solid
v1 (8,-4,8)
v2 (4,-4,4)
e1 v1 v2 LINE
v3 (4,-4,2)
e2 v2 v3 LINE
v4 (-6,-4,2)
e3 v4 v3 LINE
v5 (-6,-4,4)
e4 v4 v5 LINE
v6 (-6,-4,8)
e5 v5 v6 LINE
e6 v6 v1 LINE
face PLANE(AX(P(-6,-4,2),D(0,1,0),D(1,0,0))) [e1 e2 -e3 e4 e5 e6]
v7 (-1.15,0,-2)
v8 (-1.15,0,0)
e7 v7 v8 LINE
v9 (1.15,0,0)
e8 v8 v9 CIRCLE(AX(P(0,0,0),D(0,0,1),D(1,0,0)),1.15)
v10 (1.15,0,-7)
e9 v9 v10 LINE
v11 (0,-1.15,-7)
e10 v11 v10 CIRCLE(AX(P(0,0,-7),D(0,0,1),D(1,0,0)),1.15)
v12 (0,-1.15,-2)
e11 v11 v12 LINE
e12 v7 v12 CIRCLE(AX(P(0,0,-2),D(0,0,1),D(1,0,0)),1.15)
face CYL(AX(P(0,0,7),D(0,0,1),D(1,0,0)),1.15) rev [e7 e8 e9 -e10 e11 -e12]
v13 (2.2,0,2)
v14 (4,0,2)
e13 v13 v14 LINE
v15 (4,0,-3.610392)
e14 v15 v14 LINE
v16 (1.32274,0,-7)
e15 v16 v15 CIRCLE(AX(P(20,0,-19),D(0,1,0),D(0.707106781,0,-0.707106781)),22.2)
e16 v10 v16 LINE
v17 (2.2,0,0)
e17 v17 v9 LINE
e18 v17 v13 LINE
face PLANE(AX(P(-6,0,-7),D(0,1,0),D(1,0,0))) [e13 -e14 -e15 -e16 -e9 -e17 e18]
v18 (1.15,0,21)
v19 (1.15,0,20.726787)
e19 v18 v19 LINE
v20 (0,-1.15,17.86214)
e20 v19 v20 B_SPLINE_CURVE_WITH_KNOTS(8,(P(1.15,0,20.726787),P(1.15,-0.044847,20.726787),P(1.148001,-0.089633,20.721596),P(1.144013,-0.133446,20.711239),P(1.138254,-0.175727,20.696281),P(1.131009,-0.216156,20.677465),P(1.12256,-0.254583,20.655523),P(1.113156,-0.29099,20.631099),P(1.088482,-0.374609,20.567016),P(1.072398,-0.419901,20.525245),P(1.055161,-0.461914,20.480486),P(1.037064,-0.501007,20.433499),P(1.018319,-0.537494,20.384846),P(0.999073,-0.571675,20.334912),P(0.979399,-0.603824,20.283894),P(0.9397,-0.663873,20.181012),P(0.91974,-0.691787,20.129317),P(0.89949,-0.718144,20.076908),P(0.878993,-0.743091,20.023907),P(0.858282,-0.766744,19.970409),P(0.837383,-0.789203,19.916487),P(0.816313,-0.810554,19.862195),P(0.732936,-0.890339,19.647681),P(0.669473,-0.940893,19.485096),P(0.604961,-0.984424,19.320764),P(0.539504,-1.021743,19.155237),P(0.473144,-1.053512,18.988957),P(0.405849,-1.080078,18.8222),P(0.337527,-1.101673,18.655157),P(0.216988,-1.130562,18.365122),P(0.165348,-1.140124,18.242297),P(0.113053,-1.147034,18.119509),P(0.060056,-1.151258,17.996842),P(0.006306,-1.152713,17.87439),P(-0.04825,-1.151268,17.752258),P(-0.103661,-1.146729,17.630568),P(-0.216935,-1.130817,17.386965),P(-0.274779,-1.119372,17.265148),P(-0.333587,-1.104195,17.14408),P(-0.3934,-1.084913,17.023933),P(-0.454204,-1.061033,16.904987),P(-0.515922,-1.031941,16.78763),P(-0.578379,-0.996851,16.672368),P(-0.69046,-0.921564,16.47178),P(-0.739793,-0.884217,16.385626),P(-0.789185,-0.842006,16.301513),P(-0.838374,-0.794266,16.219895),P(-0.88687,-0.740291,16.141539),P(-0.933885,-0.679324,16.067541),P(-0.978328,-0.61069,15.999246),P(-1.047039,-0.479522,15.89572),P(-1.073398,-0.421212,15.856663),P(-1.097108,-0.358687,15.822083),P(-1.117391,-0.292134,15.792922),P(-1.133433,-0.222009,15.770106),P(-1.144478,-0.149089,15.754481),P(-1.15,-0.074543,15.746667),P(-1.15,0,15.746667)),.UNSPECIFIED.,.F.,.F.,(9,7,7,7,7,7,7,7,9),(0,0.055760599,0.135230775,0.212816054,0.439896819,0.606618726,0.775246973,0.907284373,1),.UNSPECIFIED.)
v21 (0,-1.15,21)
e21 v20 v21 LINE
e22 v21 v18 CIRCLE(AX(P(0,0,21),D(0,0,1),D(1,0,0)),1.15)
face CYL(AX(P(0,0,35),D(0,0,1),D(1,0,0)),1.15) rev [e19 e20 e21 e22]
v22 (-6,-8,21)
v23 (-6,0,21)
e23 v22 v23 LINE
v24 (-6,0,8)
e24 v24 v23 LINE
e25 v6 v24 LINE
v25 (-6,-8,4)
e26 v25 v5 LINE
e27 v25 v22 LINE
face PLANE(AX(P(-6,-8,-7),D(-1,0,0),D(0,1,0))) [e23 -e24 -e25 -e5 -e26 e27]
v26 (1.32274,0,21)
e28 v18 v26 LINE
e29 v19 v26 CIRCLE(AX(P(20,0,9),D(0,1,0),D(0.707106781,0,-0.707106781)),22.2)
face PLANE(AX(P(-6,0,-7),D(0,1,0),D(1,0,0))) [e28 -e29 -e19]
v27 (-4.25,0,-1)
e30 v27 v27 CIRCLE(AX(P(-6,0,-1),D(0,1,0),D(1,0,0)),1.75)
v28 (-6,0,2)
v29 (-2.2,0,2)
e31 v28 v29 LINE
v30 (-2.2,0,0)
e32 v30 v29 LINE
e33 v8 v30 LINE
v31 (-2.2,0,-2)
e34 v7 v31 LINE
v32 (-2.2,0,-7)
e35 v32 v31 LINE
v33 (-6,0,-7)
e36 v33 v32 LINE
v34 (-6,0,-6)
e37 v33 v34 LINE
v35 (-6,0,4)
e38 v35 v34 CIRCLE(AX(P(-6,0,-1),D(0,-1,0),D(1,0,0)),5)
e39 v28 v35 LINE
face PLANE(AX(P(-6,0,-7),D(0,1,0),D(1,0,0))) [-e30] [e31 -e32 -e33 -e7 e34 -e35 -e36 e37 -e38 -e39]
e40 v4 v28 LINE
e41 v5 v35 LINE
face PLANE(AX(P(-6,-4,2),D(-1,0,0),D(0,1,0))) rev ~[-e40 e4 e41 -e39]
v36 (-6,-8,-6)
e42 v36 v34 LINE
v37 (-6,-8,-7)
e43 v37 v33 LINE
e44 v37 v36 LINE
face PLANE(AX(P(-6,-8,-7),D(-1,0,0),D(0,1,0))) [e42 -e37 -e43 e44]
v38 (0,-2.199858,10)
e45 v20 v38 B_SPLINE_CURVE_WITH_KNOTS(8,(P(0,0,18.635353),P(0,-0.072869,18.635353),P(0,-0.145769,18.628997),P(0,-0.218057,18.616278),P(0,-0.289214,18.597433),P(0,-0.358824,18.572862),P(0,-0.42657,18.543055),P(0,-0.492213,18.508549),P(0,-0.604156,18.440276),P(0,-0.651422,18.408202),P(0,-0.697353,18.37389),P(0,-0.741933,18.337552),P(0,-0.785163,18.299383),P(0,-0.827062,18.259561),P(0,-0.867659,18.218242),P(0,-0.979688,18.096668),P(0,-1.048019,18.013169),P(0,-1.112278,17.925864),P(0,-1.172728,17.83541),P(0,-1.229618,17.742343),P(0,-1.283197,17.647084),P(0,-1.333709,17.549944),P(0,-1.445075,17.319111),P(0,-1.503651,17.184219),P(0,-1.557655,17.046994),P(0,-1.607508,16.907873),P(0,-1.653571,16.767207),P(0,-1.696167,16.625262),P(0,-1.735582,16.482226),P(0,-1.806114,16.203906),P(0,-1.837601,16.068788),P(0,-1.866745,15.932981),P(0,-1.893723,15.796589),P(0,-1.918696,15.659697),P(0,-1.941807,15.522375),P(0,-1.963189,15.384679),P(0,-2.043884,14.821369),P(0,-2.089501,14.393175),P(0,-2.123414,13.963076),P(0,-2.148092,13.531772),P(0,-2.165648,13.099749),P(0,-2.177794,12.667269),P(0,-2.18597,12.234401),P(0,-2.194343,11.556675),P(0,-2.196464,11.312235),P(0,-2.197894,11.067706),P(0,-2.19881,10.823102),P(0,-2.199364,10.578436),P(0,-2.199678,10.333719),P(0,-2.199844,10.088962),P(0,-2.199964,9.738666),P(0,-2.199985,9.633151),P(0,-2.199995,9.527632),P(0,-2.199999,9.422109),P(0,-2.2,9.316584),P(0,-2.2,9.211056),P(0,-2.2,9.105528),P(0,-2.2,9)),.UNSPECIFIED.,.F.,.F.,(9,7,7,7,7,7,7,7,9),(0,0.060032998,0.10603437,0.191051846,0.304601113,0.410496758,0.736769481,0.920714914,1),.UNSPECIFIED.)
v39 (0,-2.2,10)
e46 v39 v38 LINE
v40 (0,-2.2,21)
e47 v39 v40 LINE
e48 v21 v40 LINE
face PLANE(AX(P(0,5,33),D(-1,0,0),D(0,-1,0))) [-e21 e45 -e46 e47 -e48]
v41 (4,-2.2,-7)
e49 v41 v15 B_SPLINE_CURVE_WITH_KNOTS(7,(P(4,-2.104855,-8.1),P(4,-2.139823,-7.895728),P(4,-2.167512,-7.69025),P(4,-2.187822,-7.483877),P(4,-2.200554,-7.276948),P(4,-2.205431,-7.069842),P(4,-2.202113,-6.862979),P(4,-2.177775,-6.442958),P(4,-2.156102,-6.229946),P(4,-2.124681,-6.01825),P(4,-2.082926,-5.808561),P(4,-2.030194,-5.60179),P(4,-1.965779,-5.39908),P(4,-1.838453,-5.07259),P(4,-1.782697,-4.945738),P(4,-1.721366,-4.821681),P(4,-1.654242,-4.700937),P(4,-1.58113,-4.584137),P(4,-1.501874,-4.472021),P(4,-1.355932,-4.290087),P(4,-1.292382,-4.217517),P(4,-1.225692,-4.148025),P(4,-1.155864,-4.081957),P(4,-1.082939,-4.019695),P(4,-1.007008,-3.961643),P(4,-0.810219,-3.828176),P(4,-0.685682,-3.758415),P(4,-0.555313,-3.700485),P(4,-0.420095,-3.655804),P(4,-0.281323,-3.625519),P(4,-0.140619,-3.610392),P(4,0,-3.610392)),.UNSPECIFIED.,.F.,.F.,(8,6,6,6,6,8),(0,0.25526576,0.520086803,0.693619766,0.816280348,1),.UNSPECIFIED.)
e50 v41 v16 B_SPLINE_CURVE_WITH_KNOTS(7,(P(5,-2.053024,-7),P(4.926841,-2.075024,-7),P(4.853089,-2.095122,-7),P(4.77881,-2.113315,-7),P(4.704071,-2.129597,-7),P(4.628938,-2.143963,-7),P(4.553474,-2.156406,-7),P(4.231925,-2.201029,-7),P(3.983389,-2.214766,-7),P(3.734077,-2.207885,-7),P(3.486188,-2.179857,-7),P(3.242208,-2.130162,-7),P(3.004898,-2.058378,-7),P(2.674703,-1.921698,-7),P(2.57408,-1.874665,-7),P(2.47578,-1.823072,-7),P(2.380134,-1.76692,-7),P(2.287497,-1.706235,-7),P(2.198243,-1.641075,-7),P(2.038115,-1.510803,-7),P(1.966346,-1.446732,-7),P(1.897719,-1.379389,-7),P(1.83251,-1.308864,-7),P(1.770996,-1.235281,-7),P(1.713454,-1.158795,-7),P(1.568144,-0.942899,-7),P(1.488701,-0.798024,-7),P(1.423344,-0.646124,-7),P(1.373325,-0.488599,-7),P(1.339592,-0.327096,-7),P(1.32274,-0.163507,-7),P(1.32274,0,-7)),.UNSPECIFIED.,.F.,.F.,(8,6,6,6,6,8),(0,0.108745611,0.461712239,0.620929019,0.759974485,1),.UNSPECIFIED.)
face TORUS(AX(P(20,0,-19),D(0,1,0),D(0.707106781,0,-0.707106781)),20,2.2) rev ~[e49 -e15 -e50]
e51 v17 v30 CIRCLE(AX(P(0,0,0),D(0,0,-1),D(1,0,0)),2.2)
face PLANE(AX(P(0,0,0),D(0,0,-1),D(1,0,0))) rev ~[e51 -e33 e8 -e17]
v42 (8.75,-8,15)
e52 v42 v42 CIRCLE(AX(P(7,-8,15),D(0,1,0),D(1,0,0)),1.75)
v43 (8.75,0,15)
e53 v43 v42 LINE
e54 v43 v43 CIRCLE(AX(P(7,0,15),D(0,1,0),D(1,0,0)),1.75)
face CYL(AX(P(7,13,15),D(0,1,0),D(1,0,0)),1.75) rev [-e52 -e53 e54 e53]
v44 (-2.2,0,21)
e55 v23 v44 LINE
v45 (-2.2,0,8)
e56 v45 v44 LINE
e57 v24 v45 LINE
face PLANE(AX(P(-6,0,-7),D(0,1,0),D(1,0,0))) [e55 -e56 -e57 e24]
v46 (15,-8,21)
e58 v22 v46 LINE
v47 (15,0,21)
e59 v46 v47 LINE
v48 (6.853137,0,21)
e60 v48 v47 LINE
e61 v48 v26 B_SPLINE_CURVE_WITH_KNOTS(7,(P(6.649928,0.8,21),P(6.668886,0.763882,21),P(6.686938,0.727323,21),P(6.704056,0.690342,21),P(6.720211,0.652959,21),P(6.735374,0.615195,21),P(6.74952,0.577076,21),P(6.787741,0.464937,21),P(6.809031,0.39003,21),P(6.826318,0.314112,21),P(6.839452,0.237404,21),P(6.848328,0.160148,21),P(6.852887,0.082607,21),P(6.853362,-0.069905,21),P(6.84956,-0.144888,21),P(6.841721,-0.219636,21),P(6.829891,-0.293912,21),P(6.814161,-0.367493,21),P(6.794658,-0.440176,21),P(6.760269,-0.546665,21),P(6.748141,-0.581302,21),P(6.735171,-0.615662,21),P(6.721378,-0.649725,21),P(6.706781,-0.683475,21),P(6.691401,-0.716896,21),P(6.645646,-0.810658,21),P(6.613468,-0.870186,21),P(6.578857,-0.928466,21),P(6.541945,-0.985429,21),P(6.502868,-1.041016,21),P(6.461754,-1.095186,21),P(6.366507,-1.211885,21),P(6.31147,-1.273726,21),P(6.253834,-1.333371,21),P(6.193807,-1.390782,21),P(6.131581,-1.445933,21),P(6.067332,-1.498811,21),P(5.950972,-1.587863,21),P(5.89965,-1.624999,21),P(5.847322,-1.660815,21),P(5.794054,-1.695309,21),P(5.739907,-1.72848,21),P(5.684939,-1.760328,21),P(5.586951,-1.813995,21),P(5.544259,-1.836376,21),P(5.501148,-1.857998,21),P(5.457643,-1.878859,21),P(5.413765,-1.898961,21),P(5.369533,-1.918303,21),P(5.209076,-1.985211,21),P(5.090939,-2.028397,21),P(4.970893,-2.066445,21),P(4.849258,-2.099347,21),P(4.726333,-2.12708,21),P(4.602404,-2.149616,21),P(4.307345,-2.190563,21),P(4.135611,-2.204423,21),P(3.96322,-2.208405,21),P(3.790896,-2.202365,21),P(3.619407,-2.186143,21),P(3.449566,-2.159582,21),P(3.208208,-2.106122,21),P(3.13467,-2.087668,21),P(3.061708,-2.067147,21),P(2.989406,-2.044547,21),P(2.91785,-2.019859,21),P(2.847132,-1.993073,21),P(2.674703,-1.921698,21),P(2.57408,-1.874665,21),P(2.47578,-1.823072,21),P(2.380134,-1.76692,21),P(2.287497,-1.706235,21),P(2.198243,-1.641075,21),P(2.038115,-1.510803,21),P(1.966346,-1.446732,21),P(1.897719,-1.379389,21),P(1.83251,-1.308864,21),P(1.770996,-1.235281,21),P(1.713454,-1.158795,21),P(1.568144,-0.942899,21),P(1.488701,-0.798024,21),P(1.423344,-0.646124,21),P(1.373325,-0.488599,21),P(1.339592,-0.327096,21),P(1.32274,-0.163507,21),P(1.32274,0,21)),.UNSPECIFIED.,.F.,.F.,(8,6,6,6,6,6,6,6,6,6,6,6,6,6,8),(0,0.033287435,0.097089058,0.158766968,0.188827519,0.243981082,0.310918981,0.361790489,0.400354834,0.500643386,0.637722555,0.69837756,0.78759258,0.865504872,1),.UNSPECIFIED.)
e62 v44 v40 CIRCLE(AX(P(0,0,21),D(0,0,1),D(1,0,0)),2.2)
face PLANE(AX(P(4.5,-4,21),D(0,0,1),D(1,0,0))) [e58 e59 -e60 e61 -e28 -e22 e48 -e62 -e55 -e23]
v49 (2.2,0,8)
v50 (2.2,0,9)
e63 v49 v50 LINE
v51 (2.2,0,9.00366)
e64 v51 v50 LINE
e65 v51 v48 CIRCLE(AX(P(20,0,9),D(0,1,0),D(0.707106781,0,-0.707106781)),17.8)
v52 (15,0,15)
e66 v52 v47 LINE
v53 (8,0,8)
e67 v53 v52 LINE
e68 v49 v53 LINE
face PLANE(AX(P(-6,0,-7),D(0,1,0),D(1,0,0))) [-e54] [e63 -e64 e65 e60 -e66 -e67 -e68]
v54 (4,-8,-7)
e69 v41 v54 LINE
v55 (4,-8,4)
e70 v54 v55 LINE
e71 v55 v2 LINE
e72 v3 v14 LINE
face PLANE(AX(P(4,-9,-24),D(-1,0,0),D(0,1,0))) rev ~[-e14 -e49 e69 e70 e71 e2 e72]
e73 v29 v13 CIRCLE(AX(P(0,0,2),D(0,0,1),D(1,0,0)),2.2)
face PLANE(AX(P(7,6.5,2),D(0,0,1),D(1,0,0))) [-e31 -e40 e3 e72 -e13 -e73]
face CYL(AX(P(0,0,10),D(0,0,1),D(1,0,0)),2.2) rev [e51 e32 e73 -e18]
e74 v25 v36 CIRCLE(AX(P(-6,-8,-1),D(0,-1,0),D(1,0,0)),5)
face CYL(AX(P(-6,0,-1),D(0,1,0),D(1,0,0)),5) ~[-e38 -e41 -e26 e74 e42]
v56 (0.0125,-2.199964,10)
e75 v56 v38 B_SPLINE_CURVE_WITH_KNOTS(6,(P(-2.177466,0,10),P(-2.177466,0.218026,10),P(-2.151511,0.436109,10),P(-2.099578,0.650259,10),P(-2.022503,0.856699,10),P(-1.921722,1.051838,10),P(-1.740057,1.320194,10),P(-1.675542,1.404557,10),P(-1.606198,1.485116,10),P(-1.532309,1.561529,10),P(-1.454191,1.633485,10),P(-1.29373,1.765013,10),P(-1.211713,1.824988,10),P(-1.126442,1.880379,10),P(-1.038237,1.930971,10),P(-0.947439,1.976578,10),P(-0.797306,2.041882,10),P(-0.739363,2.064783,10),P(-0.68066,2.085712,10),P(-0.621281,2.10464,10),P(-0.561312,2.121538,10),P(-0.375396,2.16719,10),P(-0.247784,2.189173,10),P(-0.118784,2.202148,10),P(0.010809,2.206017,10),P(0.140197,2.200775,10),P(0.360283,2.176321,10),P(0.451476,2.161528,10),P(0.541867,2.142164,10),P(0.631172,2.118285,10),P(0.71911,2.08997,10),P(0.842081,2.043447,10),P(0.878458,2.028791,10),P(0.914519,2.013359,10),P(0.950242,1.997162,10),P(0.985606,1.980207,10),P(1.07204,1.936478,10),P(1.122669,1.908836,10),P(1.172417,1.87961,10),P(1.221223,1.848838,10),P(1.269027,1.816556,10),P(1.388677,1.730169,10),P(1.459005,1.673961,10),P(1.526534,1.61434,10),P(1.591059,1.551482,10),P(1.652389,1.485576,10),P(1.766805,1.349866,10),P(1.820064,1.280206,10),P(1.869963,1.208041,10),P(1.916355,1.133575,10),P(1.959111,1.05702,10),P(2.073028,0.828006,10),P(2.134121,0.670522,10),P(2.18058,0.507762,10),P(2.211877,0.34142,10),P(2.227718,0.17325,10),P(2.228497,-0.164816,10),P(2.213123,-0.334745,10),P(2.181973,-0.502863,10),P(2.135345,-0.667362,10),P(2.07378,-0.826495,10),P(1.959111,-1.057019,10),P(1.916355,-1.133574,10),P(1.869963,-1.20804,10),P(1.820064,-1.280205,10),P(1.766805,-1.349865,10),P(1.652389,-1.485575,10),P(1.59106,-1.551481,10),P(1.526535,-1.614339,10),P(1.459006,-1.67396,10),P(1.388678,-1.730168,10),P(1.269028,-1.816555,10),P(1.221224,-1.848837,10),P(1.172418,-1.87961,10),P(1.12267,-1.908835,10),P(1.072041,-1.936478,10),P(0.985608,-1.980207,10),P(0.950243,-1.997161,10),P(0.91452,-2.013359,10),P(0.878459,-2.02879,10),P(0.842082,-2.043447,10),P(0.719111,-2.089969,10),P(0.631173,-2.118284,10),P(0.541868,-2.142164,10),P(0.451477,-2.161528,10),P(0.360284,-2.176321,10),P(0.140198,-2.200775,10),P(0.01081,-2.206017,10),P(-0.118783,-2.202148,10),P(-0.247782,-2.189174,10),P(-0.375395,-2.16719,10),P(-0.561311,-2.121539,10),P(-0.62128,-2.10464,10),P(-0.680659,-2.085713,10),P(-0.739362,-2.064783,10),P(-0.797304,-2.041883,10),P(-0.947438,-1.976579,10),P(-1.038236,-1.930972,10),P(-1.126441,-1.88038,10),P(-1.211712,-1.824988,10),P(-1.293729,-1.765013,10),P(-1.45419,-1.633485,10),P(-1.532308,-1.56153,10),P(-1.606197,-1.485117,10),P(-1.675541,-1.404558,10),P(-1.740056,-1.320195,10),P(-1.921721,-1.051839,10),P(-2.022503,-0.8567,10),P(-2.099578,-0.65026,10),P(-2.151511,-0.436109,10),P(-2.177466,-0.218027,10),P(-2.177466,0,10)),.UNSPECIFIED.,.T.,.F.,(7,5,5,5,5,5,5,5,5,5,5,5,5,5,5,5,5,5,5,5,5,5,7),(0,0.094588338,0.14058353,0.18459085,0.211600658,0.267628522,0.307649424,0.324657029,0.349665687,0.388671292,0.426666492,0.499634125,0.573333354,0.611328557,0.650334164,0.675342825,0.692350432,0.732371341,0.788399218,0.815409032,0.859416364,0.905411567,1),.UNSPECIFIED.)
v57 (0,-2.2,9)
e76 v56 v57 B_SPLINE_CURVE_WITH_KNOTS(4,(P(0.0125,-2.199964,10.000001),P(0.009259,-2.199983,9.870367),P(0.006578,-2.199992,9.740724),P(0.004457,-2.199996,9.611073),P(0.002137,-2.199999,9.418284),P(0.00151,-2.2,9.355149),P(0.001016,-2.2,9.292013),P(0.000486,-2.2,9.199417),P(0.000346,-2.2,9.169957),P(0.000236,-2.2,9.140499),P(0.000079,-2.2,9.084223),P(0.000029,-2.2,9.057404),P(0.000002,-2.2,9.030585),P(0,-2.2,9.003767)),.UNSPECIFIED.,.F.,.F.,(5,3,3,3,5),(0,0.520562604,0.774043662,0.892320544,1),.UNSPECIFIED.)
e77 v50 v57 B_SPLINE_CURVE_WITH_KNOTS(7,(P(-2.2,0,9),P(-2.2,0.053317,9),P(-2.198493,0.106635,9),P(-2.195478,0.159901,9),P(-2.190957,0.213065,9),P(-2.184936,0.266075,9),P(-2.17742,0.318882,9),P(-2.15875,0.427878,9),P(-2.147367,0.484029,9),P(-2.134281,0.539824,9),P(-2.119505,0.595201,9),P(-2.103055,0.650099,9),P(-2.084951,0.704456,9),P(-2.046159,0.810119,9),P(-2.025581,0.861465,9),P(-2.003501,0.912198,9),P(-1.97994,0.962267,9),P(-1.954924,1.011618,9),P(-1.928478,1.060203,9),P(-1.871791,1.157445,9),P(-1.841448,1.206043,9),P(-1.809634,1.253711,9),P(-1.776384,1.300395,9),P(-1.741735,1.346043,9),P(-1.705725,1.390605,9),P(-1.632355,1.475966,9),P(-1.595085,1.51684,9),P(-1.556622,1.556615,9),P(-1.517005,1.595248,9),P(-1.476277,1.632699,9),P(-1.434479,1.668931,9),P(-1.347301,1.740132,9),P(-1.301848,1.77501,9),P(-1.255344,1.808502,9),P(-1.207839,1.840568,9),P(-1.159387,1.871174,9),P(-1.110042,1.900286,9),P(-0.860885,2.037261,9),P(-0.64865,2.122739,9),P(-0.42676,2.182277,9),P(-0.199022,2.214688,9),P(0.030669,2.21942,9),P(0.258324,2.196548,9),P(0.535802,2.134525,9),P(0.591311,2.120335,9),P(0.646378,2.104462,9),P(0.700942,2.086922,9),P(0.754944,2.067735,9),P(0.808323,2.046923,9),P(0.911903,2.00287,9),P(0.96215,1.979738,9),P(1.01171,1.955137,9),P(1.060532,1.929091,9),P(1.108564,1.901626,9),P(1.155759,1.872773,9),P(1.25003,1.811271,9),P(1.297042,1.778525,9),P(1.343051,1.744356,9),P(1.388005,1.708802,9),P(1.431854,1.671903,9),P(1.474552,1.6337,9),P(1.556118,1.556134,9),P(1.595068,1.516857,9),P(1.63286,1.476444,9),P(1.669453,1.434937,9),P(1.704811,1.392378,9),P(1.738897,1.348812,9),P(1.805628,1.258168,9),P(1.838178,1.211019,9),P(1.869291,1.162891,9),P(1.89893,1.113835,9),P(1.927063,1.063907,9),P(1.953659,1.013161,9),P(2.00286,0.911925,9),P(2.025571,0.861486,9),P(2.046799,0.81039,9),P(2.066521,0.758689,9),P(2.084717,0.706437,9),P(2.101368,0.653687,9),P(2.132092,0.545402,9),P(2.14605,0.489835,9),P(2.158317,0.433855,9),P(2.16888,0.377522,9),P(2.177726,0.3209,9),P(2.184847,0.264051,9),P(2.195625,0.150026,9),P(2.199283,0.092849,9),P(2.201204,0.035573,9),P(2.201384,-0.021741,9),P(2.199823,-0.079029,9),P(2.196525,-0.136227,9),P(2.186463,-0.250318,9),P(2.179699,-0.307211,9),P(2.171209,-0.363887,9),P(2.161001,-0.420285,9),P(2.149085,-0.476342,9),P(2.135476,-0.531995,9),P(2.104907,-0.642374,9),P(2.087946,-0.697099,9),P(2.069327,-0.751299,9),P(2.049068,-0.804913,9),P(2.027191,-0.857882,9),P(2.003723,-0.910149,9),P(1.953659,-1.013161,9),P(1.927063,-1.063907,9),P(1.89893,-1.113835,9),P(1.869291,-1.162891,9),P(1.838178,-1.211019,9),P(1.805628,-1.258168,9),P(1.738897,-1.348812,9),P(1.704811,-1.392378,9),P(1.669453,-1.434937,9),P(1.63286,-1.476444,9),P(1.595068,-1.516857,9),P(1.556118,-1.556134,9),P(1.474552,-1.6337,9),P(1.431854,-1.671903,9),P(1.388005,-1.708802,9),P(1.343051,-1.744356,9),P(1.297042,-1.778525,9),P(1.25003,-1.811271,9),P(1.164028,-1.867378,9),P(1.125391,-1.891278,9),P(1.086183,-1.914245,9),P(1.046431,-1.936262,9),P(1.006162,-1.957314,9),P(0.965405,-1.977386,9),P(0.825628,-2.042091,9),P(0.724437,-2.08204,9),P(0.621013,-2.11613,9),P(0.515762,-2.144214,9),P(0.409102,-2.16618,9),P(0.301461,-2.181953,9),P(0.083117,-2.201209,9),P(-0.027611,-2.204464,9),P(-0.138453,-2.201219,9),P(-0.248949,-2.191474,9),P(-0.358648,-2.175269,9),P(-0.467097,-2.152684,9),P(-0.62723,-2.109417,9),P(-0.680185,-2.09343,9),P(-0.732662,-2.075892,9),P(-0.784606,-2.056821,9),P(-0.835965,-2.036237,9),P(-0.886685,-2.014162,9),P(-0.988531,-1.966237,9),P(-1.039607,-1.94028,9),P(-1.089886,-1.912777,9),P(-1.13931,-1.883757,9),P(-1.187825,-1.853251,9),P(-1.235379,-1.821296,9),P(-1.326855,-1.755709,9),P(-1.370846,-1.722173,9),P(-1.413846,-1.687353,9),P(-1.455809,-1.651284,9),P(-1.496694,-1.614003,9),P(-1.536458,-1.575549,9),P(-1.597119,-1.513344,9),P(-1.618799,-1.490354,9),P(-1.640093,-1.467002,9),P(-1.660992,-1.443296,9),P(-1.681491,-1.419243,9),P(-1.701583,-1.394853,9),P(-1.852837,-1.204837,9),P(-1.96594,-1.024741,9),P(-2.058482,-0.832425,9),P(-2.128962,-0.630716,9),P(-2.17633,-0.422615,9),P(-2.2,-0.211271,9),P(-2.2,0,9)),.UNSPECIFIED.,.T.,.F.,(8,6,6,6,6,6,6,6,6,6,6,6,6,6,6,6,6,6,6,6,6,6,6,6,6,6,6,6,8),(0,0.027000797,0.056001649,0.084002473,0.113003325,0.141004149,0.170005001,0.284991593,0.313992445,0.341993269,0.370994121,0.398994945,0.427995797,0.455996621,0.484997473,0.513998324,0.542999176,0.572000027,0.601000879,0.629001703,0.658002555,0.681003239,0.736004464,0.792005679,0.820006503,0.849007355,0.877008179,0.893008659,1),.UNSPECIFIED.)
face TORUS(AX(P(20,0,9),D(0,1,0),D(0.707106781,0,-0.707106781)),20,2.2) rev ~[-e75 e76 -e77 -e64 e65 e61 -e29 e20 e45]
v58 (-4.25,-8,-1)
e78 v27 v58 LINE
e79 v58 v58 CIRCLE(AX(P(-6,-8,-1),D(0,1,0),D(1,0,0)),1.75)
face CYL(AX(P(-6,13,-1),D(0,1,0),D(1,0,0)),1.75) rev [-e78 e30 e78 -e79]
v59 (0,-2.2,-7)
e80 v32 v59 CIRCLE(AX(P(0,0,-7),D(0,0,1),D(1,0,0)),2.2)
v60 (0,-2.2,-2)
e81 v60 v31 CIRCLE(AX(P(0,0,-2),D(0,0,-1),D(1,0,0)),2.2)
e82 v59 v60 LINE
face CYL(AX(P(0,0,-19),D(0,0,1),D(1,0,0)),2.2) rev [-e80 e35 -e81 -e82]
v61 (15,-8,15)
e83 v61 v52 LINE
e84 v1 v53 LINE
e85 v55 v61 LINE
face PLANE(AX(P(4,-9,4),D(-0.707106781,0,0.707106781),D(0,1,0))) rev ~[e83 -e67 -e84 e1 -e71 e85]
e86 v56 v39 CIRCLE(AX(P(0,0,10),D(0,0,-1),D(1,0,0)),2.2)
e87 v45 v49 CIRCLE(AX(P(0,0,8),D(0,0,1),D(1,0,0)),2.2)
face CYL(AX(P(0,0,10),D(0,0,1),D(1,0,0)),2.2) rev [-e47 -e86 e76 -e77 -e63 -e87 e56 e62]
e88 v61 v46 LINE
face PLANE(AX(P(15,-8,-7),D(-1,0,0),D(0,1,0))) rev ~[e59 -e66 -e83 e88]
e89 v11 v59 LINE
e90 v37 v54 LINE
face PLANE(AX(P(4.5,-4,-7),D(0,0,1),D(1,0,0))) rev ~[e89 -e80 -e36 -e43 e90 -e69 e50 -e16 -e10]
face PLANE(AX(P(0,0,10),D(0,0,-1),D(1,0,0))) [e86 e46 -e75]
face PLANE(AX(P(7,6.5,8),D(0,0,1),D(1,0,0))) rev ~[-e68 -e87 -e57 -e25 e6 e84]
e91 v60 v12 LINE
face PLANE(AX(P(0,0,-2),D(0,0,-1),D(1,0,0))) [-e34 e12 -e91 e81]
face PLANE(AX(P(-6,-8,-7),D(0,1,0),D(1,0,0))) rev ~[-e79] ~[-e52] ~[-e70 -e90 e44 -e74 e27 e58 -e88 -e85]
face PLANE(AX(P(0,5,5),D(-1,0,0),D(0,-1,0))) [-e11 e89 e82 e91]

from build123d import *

# Parameters (mm, degrees)
BOX001027045134_W           = 10
BOX001027045134_H           = 10
BOX001027045134_DEPTH       = 32
CYLINDER192_R               = 2.2
CYLINDER192_DEPTH           = 17
CUT158_PLACEMENT_ANGLE      = 180
BOX001027045133_W           = 10
BOX001027045133_H           = 10
BOX001027045133_DEPTH       = 32
BOX001027045132_W           = 15
BOX001027045132_H           = 10
BOX001027045132_DEPTH       = 18
BOX001027045135_W           = 25
BOX001027045135_H           = 10
BOX001027045135_DEPTH       = 25
TORUS013_R                  = 2.2
TORUS013_ROLL_ANGLE         = 90
COMMON091_PITCH_ANGLE       = -45
COMMON090_PLACEMENT_ANGLE   = 180
CYLINDER191_R               = 2.2
CYLINDER191_DEPTH           = 9
CYLINDER193_R               = 2.2
CYLINDER193_DEPTH           = 9
CYLINDER190_R               = 1.15
CYLINDER190_DEPTH           = 32
CYLINDER171_R               = 1.75
CYLINDER171_DEPTH           = 30
CYLINDER171_ROLL_ANGLE      = 90
CYLINDER195_R               = 1.75
CYLINDER195_DEPTH           = 30
CYLINDER195_ROLL_ANGLE      = 90
BOX001027045140_W           = 26
BOX001027045140_H           = 21
BOX001027045140_DEPTH       = 6
CYLINDER189_R               = 5
CYLINDER189_DEPTH           = 8
CYLINDER189_ROLL_ANGLE      = 90
BOX001027045139_W           = 21
BOX001027045139_H           = 10
BOX001027045139_DEPTH       = 28
BOX001027045139_PITCH_ANGLE = 45
BOX001027045138_W           = 21
BOX001027045138_H           = 10
BOX001027045138_DEPTH       = 28
BOX001027045137_W           = 21
BOX001027045137_H           = 8
BOX001027045137_DEPTH       = 28


with BuildPart() as cube187:
    # Box001027045134 → Box001027045134 (new body)
    with BuildSketch(Plane(origin=(0, -5, -22), x_dir=(1, 0, 0), z_dir=(0, 0, 1))):
        with Locations((5, 5)):
            Rectangle(BOX001027045134_W, BOX001027045134_H)
    extrude(amount=BOX001027045134_DEPTH)


with BuildPart() as cut158:
    # Cylinder192 → Cylinder192 (new body)
    with BuildSketch(Plane.XY.offset(-15)):
        Circle(CYLINDER192_R)
    extrude(amount=CYLINDER192_DEPTH)

    # Cut158: cut Cube187
    add(cube187.part, mode=Mode.SUBTRACT)


with BuildPart() as cut158_1:
    # Cut158 placement: moved
    add(cut158.part.moved(Location((0, 0, 6))).rotate(Axis((0, 0, 6), (1, 0, 0)), CUT158_PLACEMENT_ANGLE))


with BuildPart() as cube186:
    # Box001027045133 → Box001027045133 (new body)
    with BuildSketch(Plane(origin=(0, -5, -22), x_dir=(1, 0, 0), z_dir=(0, 0, 1))):
        with Locations((5, 5)):
            Rectangle(BOX001027045133_W, BOX001027045133_H)
    extrude(amount=BOX001027045133_DEPTH)


with BuildPart() as cube185:
    # Box001027045132 → Box001027045132 (new body)
    with BuildSketch(Plane(origin=(-5, -5, -18), x_dir=(1, 0, 0), z_dir=(0, 0, 1))):
        with Locations((7.5, 5)):
            Rectangle(BOX001027045132_W, BOX001027045132_H)
    extrude(amount=BOX001027045132_DEPTH)


with BuildPart() as cube188:
    # Box001027045135 → Box001027045135 (new body)
    with BuildSketch(Plane(origin=(-3, -5, -1), x_dir=(1, 0, 0), z_dir=(0, 0, 1))):
        with Locations((12.5, 5)):
            Rectangle(BOX001027045135_W, BOX001027045135_H)
    extrude(amount=BOX001027045135_DEPTH)


with BuildPart() as common090:
    # Torus013 → Torus013 (revolve)
    with BuildSketch(Plane.XZ):
        with Locations((20, 0)):
            Circle(TORUS013_R)
    revolve(axis=Axis((0, 0, 0), (0, 0, 1)))


with BuildPart() as common090_1:
    # Torus013 roll: moved
    add(common090.part.rotate(Axis((0, 0, 0), (1, 0, 0)), TORUS013_ROLL_ANGLE))


with BuildPart() as common090_2:
    # Torus013 placement: moved
    add(common090_1.part.moved(Location((20, 0, 0))))

    # Common091: intersect Cube188
    add(cube188.part, mode=Mode.INTERSECT)


with BuildPart() as common090_3:
    # Common091 pitch: moved
    add(common090_2.part.rotate(Axis((0, 0, 0), (0, 1, 0)), COMMON091_PITCH_ANGLE))


with BuildPart() as common090_4:
    # Common091 placement: moved
    add(common090_3.part.moved(Location((5.857864, 0, -14.142136))))

    # Common089: intersect Cube185
    add(cube185.part, mode=Mode.INTERSECT)

    # Common090: intersect Cube186
    add(cube186.part, mode=Mode.INTERSECT)


with BuildPart() as common090_5:
    # Common090 placement: moved
    add(common090_4.part.moved(Location((0, 0, 4))).rotate(Axis((0, 0, 4), (1, 0, 0)), COMMON090_PLACEMENT_ANGLE))


with BuildPart() as cylinder238:
    # Cylinder191 → Cylinder191 (new body)
    with BuildSketch(Plane(origin=(0, 0, 4), x_dir=(1, 0, 0), z_dir=(0, 0, -1))):
        Circle(CYLINDER191_R)
    extrude(amount=CYLINDER191_DEPTH)


with BuildPart() as cylinder240:
    # Cylinder193 → Cylinder193 (new body)
    with BuildSketch(Plane(origin=(0, 0, 33), x_dir=(1, 0, 0), z_dir=(0, 0, -1))):
        Circle(CYLINDER193_R)
    extrude(amount=CYLINDER193_DEPTH)


with BuildPart() as cylinder237:
    # Cylinder190 → Cylinder190 (new body)
    with BuildSketch(Plane(origin=(0, 0, 30), x_dir=(1, 0, 0), z_dir=(0, 0, -1))):
        Circle(CYLINDER190_R)
    extrude(amount=CYLINDER190_DEPTH)


with BuildPart() as filament_path002:
    # Fusion112095 base: copy of Cylinder237
    add(cylinder237.part)

    # Fusion112095: union Cut158, Common090, Cylinder238, Cylinder240
    add(cut158_1.part)
    add(common090_5.part)
    add(cylinder238.part)
    add(cylinder240.part)


with BuildPart() as filament_path002_1:
    # Fusion112095 placement: moved
    add(filament_path002.part.moved(Location((0, 0, 5))))


with BuildPart() as top_path:
    # Fusion112086 base: copy of Cylinder237
    add(cylinder237.part)

    # Fusion112086: union Cut158, Common090, Cylinder238, Cylinder240
    add(cut158_1.part)
    add(common090_5.part)
    add(cylinder238.part)
    add(cylinder240.part)


with BuildPart() as top_path_1:
    # Fusion112086 placement: moved
    add(top_path.part.moved(Location((0, 0, -23))))

    # Fusion112096: union filament-path002
    add(filament_path002_1.part)


with BuildPart() as m3_clear:
    # Cylinder171 → Cylinder171 (new body)
    with BuildSketch(Plane.XY):
        Circle(CYLINDER171_R)
    extrude(amount=CYLINDER171_DEPTH)


with BuildPart() as m3_clear_1:
    # Cylinder171 roll: moved
    add(m3_clear.part.rotate(Axis((0, 0, 0), (1, 0, 0)), CYLINDER171_ROLL_ANGLE))


with BuildPart() as m3_clear_2:
    # Cylinder171 placement: moved
    add(m3_clear_1.part.moved(Location((7, 13, 15))))


with BuildPart() as top_m3_clear:
    # Cylinder195 → Cylinder195 (new body)
    with BuildSketch(Plane.XY):
        Circle(CYLINDER195_R)
    extrude(amount=CYLINDER195_DEPTH)


with BuildPart() as top_m3_clear_1:
    # Cylinder195 roll: moved
    add(top_m3_clear.part.rotate(Axis((0, 0, 0), (1, 0, 0)), CYLINDER195_ROLL_ANGLE))


with BuildPart() as top_m3_clear_2:
    # Cylinder195 placement: moved
    add(top_m3_clear_1.part.moved(Location((-6, 13, -1))))

    # Fusion112093: union M3-clear
    add(m3_clear_2.part)


with BuildPart() as cube193:
    # Box001027045140 → Box001027045140 (new body)
    with BuildSketch(Plane(origin=(-6, -4, 2), x_dir=(1, 0, 0), z_dir=(0, 0, 1))):
        with Locations((13, 10.5)):
            Rectangle(BOX001027045140_W, BOX001027045140_H)
    extrude(amount=BOX001027045140_DEPTH)


with BuildPart() as screw_bump_top:
    # Cylinder189 → Cylinder189 (new body)
    with BuildSketch(Plane.XY):
        Circle(CYLINDER189_R)
    extrude(amount=CYLINDER189_DEPTH)


with BuildPart() as screw_bump_top_1:
    # Cylinder189 roll: moved
    add(screw_bump_top.part.rotate(Axis((0, 0, 0), (1, 0, 0)), CYLINDER189_ROLL_ANGLE))


with BuildPart() as screw_bump_top_2:
    # Cylinder189 placement: moved
    add(screw_bump_top_1.part.moved(Location((-6, 0, -1))))


with BuildPart() as cube192:
    # Box001027045139 → Box001027045139 (new body)
    with BuildSketch(Plane.XY):
        with Locations((10.5, 5)):
            Rectangle(BOX001027045139_W, BOX001027045139_H)
    extrude(amount=BOX001027045139_DEPTH)


with BuildPart() as cube192_1:
    # Box001027045139 pitch: moved
    add(cube192.part.rotate(Axis((0, 0, 0), (0, 1, 0)), BOX001027045139_PITCH_ANGLE))


with BuildPart() as cube192_2:
    # Box001027045139 placement: moved
    add(cube192_1.part.moved(Location((-6, -9, 21))))


with BuildPart() as fusion112087:
    # Box001027045138 → Box001027045138 (new body)
    with BuildSketch(Plane(origin=(-6, -9, -7), x_dir=(1, 0, 0), z_dir=(0, 0, 1))):
        with Locations((10.5, 5)):
            Rectangle(BOX001027045138_W, BOX001027045138_H)
    extrude(amount=BOX001027045138_DEPTH)

    # Fusion112087: union Cube192
    add(cube192_2.part)


with BuildPart() as fusion112087_1:
    # Fusion112087 placement: moved
    add(fusion112087.part.moved(Location((10, 0, -17))))


with BuildPart() as top:
    # Box001027045137 → Box001027045137 (new body)
    with BuildSketch(Plane(origin=(-6, -8, -7), x_dir=(1, 0, 0), z_dir=(0, 0, 1))):
        with Locations((10.5, 4)):
            Rectangle(BOX001027045137_W, BOX001027045137_H)
    extrude(amount=BOX001027045137_DEPTH)

    # Cut160: cut Fusion112087
    add(fusion112087_1.part, mode=Mode.SUBTRACT)

    # Fusion112088: union screw-bump-top
    add(screw_bump_top_2.part)

    # Cut161: cut Cube193
    add(cube193.part, mode=Mode.SUBTRACT)

    # Cut167: cut top-m3-clear
    add(top_m3_clear_2.part, mode=Mode.SUBTRACT)

    # Cut170: cut top-path
    add(top_path_1.part, mode=Mode.SUBTRACT)


solid = top.part
